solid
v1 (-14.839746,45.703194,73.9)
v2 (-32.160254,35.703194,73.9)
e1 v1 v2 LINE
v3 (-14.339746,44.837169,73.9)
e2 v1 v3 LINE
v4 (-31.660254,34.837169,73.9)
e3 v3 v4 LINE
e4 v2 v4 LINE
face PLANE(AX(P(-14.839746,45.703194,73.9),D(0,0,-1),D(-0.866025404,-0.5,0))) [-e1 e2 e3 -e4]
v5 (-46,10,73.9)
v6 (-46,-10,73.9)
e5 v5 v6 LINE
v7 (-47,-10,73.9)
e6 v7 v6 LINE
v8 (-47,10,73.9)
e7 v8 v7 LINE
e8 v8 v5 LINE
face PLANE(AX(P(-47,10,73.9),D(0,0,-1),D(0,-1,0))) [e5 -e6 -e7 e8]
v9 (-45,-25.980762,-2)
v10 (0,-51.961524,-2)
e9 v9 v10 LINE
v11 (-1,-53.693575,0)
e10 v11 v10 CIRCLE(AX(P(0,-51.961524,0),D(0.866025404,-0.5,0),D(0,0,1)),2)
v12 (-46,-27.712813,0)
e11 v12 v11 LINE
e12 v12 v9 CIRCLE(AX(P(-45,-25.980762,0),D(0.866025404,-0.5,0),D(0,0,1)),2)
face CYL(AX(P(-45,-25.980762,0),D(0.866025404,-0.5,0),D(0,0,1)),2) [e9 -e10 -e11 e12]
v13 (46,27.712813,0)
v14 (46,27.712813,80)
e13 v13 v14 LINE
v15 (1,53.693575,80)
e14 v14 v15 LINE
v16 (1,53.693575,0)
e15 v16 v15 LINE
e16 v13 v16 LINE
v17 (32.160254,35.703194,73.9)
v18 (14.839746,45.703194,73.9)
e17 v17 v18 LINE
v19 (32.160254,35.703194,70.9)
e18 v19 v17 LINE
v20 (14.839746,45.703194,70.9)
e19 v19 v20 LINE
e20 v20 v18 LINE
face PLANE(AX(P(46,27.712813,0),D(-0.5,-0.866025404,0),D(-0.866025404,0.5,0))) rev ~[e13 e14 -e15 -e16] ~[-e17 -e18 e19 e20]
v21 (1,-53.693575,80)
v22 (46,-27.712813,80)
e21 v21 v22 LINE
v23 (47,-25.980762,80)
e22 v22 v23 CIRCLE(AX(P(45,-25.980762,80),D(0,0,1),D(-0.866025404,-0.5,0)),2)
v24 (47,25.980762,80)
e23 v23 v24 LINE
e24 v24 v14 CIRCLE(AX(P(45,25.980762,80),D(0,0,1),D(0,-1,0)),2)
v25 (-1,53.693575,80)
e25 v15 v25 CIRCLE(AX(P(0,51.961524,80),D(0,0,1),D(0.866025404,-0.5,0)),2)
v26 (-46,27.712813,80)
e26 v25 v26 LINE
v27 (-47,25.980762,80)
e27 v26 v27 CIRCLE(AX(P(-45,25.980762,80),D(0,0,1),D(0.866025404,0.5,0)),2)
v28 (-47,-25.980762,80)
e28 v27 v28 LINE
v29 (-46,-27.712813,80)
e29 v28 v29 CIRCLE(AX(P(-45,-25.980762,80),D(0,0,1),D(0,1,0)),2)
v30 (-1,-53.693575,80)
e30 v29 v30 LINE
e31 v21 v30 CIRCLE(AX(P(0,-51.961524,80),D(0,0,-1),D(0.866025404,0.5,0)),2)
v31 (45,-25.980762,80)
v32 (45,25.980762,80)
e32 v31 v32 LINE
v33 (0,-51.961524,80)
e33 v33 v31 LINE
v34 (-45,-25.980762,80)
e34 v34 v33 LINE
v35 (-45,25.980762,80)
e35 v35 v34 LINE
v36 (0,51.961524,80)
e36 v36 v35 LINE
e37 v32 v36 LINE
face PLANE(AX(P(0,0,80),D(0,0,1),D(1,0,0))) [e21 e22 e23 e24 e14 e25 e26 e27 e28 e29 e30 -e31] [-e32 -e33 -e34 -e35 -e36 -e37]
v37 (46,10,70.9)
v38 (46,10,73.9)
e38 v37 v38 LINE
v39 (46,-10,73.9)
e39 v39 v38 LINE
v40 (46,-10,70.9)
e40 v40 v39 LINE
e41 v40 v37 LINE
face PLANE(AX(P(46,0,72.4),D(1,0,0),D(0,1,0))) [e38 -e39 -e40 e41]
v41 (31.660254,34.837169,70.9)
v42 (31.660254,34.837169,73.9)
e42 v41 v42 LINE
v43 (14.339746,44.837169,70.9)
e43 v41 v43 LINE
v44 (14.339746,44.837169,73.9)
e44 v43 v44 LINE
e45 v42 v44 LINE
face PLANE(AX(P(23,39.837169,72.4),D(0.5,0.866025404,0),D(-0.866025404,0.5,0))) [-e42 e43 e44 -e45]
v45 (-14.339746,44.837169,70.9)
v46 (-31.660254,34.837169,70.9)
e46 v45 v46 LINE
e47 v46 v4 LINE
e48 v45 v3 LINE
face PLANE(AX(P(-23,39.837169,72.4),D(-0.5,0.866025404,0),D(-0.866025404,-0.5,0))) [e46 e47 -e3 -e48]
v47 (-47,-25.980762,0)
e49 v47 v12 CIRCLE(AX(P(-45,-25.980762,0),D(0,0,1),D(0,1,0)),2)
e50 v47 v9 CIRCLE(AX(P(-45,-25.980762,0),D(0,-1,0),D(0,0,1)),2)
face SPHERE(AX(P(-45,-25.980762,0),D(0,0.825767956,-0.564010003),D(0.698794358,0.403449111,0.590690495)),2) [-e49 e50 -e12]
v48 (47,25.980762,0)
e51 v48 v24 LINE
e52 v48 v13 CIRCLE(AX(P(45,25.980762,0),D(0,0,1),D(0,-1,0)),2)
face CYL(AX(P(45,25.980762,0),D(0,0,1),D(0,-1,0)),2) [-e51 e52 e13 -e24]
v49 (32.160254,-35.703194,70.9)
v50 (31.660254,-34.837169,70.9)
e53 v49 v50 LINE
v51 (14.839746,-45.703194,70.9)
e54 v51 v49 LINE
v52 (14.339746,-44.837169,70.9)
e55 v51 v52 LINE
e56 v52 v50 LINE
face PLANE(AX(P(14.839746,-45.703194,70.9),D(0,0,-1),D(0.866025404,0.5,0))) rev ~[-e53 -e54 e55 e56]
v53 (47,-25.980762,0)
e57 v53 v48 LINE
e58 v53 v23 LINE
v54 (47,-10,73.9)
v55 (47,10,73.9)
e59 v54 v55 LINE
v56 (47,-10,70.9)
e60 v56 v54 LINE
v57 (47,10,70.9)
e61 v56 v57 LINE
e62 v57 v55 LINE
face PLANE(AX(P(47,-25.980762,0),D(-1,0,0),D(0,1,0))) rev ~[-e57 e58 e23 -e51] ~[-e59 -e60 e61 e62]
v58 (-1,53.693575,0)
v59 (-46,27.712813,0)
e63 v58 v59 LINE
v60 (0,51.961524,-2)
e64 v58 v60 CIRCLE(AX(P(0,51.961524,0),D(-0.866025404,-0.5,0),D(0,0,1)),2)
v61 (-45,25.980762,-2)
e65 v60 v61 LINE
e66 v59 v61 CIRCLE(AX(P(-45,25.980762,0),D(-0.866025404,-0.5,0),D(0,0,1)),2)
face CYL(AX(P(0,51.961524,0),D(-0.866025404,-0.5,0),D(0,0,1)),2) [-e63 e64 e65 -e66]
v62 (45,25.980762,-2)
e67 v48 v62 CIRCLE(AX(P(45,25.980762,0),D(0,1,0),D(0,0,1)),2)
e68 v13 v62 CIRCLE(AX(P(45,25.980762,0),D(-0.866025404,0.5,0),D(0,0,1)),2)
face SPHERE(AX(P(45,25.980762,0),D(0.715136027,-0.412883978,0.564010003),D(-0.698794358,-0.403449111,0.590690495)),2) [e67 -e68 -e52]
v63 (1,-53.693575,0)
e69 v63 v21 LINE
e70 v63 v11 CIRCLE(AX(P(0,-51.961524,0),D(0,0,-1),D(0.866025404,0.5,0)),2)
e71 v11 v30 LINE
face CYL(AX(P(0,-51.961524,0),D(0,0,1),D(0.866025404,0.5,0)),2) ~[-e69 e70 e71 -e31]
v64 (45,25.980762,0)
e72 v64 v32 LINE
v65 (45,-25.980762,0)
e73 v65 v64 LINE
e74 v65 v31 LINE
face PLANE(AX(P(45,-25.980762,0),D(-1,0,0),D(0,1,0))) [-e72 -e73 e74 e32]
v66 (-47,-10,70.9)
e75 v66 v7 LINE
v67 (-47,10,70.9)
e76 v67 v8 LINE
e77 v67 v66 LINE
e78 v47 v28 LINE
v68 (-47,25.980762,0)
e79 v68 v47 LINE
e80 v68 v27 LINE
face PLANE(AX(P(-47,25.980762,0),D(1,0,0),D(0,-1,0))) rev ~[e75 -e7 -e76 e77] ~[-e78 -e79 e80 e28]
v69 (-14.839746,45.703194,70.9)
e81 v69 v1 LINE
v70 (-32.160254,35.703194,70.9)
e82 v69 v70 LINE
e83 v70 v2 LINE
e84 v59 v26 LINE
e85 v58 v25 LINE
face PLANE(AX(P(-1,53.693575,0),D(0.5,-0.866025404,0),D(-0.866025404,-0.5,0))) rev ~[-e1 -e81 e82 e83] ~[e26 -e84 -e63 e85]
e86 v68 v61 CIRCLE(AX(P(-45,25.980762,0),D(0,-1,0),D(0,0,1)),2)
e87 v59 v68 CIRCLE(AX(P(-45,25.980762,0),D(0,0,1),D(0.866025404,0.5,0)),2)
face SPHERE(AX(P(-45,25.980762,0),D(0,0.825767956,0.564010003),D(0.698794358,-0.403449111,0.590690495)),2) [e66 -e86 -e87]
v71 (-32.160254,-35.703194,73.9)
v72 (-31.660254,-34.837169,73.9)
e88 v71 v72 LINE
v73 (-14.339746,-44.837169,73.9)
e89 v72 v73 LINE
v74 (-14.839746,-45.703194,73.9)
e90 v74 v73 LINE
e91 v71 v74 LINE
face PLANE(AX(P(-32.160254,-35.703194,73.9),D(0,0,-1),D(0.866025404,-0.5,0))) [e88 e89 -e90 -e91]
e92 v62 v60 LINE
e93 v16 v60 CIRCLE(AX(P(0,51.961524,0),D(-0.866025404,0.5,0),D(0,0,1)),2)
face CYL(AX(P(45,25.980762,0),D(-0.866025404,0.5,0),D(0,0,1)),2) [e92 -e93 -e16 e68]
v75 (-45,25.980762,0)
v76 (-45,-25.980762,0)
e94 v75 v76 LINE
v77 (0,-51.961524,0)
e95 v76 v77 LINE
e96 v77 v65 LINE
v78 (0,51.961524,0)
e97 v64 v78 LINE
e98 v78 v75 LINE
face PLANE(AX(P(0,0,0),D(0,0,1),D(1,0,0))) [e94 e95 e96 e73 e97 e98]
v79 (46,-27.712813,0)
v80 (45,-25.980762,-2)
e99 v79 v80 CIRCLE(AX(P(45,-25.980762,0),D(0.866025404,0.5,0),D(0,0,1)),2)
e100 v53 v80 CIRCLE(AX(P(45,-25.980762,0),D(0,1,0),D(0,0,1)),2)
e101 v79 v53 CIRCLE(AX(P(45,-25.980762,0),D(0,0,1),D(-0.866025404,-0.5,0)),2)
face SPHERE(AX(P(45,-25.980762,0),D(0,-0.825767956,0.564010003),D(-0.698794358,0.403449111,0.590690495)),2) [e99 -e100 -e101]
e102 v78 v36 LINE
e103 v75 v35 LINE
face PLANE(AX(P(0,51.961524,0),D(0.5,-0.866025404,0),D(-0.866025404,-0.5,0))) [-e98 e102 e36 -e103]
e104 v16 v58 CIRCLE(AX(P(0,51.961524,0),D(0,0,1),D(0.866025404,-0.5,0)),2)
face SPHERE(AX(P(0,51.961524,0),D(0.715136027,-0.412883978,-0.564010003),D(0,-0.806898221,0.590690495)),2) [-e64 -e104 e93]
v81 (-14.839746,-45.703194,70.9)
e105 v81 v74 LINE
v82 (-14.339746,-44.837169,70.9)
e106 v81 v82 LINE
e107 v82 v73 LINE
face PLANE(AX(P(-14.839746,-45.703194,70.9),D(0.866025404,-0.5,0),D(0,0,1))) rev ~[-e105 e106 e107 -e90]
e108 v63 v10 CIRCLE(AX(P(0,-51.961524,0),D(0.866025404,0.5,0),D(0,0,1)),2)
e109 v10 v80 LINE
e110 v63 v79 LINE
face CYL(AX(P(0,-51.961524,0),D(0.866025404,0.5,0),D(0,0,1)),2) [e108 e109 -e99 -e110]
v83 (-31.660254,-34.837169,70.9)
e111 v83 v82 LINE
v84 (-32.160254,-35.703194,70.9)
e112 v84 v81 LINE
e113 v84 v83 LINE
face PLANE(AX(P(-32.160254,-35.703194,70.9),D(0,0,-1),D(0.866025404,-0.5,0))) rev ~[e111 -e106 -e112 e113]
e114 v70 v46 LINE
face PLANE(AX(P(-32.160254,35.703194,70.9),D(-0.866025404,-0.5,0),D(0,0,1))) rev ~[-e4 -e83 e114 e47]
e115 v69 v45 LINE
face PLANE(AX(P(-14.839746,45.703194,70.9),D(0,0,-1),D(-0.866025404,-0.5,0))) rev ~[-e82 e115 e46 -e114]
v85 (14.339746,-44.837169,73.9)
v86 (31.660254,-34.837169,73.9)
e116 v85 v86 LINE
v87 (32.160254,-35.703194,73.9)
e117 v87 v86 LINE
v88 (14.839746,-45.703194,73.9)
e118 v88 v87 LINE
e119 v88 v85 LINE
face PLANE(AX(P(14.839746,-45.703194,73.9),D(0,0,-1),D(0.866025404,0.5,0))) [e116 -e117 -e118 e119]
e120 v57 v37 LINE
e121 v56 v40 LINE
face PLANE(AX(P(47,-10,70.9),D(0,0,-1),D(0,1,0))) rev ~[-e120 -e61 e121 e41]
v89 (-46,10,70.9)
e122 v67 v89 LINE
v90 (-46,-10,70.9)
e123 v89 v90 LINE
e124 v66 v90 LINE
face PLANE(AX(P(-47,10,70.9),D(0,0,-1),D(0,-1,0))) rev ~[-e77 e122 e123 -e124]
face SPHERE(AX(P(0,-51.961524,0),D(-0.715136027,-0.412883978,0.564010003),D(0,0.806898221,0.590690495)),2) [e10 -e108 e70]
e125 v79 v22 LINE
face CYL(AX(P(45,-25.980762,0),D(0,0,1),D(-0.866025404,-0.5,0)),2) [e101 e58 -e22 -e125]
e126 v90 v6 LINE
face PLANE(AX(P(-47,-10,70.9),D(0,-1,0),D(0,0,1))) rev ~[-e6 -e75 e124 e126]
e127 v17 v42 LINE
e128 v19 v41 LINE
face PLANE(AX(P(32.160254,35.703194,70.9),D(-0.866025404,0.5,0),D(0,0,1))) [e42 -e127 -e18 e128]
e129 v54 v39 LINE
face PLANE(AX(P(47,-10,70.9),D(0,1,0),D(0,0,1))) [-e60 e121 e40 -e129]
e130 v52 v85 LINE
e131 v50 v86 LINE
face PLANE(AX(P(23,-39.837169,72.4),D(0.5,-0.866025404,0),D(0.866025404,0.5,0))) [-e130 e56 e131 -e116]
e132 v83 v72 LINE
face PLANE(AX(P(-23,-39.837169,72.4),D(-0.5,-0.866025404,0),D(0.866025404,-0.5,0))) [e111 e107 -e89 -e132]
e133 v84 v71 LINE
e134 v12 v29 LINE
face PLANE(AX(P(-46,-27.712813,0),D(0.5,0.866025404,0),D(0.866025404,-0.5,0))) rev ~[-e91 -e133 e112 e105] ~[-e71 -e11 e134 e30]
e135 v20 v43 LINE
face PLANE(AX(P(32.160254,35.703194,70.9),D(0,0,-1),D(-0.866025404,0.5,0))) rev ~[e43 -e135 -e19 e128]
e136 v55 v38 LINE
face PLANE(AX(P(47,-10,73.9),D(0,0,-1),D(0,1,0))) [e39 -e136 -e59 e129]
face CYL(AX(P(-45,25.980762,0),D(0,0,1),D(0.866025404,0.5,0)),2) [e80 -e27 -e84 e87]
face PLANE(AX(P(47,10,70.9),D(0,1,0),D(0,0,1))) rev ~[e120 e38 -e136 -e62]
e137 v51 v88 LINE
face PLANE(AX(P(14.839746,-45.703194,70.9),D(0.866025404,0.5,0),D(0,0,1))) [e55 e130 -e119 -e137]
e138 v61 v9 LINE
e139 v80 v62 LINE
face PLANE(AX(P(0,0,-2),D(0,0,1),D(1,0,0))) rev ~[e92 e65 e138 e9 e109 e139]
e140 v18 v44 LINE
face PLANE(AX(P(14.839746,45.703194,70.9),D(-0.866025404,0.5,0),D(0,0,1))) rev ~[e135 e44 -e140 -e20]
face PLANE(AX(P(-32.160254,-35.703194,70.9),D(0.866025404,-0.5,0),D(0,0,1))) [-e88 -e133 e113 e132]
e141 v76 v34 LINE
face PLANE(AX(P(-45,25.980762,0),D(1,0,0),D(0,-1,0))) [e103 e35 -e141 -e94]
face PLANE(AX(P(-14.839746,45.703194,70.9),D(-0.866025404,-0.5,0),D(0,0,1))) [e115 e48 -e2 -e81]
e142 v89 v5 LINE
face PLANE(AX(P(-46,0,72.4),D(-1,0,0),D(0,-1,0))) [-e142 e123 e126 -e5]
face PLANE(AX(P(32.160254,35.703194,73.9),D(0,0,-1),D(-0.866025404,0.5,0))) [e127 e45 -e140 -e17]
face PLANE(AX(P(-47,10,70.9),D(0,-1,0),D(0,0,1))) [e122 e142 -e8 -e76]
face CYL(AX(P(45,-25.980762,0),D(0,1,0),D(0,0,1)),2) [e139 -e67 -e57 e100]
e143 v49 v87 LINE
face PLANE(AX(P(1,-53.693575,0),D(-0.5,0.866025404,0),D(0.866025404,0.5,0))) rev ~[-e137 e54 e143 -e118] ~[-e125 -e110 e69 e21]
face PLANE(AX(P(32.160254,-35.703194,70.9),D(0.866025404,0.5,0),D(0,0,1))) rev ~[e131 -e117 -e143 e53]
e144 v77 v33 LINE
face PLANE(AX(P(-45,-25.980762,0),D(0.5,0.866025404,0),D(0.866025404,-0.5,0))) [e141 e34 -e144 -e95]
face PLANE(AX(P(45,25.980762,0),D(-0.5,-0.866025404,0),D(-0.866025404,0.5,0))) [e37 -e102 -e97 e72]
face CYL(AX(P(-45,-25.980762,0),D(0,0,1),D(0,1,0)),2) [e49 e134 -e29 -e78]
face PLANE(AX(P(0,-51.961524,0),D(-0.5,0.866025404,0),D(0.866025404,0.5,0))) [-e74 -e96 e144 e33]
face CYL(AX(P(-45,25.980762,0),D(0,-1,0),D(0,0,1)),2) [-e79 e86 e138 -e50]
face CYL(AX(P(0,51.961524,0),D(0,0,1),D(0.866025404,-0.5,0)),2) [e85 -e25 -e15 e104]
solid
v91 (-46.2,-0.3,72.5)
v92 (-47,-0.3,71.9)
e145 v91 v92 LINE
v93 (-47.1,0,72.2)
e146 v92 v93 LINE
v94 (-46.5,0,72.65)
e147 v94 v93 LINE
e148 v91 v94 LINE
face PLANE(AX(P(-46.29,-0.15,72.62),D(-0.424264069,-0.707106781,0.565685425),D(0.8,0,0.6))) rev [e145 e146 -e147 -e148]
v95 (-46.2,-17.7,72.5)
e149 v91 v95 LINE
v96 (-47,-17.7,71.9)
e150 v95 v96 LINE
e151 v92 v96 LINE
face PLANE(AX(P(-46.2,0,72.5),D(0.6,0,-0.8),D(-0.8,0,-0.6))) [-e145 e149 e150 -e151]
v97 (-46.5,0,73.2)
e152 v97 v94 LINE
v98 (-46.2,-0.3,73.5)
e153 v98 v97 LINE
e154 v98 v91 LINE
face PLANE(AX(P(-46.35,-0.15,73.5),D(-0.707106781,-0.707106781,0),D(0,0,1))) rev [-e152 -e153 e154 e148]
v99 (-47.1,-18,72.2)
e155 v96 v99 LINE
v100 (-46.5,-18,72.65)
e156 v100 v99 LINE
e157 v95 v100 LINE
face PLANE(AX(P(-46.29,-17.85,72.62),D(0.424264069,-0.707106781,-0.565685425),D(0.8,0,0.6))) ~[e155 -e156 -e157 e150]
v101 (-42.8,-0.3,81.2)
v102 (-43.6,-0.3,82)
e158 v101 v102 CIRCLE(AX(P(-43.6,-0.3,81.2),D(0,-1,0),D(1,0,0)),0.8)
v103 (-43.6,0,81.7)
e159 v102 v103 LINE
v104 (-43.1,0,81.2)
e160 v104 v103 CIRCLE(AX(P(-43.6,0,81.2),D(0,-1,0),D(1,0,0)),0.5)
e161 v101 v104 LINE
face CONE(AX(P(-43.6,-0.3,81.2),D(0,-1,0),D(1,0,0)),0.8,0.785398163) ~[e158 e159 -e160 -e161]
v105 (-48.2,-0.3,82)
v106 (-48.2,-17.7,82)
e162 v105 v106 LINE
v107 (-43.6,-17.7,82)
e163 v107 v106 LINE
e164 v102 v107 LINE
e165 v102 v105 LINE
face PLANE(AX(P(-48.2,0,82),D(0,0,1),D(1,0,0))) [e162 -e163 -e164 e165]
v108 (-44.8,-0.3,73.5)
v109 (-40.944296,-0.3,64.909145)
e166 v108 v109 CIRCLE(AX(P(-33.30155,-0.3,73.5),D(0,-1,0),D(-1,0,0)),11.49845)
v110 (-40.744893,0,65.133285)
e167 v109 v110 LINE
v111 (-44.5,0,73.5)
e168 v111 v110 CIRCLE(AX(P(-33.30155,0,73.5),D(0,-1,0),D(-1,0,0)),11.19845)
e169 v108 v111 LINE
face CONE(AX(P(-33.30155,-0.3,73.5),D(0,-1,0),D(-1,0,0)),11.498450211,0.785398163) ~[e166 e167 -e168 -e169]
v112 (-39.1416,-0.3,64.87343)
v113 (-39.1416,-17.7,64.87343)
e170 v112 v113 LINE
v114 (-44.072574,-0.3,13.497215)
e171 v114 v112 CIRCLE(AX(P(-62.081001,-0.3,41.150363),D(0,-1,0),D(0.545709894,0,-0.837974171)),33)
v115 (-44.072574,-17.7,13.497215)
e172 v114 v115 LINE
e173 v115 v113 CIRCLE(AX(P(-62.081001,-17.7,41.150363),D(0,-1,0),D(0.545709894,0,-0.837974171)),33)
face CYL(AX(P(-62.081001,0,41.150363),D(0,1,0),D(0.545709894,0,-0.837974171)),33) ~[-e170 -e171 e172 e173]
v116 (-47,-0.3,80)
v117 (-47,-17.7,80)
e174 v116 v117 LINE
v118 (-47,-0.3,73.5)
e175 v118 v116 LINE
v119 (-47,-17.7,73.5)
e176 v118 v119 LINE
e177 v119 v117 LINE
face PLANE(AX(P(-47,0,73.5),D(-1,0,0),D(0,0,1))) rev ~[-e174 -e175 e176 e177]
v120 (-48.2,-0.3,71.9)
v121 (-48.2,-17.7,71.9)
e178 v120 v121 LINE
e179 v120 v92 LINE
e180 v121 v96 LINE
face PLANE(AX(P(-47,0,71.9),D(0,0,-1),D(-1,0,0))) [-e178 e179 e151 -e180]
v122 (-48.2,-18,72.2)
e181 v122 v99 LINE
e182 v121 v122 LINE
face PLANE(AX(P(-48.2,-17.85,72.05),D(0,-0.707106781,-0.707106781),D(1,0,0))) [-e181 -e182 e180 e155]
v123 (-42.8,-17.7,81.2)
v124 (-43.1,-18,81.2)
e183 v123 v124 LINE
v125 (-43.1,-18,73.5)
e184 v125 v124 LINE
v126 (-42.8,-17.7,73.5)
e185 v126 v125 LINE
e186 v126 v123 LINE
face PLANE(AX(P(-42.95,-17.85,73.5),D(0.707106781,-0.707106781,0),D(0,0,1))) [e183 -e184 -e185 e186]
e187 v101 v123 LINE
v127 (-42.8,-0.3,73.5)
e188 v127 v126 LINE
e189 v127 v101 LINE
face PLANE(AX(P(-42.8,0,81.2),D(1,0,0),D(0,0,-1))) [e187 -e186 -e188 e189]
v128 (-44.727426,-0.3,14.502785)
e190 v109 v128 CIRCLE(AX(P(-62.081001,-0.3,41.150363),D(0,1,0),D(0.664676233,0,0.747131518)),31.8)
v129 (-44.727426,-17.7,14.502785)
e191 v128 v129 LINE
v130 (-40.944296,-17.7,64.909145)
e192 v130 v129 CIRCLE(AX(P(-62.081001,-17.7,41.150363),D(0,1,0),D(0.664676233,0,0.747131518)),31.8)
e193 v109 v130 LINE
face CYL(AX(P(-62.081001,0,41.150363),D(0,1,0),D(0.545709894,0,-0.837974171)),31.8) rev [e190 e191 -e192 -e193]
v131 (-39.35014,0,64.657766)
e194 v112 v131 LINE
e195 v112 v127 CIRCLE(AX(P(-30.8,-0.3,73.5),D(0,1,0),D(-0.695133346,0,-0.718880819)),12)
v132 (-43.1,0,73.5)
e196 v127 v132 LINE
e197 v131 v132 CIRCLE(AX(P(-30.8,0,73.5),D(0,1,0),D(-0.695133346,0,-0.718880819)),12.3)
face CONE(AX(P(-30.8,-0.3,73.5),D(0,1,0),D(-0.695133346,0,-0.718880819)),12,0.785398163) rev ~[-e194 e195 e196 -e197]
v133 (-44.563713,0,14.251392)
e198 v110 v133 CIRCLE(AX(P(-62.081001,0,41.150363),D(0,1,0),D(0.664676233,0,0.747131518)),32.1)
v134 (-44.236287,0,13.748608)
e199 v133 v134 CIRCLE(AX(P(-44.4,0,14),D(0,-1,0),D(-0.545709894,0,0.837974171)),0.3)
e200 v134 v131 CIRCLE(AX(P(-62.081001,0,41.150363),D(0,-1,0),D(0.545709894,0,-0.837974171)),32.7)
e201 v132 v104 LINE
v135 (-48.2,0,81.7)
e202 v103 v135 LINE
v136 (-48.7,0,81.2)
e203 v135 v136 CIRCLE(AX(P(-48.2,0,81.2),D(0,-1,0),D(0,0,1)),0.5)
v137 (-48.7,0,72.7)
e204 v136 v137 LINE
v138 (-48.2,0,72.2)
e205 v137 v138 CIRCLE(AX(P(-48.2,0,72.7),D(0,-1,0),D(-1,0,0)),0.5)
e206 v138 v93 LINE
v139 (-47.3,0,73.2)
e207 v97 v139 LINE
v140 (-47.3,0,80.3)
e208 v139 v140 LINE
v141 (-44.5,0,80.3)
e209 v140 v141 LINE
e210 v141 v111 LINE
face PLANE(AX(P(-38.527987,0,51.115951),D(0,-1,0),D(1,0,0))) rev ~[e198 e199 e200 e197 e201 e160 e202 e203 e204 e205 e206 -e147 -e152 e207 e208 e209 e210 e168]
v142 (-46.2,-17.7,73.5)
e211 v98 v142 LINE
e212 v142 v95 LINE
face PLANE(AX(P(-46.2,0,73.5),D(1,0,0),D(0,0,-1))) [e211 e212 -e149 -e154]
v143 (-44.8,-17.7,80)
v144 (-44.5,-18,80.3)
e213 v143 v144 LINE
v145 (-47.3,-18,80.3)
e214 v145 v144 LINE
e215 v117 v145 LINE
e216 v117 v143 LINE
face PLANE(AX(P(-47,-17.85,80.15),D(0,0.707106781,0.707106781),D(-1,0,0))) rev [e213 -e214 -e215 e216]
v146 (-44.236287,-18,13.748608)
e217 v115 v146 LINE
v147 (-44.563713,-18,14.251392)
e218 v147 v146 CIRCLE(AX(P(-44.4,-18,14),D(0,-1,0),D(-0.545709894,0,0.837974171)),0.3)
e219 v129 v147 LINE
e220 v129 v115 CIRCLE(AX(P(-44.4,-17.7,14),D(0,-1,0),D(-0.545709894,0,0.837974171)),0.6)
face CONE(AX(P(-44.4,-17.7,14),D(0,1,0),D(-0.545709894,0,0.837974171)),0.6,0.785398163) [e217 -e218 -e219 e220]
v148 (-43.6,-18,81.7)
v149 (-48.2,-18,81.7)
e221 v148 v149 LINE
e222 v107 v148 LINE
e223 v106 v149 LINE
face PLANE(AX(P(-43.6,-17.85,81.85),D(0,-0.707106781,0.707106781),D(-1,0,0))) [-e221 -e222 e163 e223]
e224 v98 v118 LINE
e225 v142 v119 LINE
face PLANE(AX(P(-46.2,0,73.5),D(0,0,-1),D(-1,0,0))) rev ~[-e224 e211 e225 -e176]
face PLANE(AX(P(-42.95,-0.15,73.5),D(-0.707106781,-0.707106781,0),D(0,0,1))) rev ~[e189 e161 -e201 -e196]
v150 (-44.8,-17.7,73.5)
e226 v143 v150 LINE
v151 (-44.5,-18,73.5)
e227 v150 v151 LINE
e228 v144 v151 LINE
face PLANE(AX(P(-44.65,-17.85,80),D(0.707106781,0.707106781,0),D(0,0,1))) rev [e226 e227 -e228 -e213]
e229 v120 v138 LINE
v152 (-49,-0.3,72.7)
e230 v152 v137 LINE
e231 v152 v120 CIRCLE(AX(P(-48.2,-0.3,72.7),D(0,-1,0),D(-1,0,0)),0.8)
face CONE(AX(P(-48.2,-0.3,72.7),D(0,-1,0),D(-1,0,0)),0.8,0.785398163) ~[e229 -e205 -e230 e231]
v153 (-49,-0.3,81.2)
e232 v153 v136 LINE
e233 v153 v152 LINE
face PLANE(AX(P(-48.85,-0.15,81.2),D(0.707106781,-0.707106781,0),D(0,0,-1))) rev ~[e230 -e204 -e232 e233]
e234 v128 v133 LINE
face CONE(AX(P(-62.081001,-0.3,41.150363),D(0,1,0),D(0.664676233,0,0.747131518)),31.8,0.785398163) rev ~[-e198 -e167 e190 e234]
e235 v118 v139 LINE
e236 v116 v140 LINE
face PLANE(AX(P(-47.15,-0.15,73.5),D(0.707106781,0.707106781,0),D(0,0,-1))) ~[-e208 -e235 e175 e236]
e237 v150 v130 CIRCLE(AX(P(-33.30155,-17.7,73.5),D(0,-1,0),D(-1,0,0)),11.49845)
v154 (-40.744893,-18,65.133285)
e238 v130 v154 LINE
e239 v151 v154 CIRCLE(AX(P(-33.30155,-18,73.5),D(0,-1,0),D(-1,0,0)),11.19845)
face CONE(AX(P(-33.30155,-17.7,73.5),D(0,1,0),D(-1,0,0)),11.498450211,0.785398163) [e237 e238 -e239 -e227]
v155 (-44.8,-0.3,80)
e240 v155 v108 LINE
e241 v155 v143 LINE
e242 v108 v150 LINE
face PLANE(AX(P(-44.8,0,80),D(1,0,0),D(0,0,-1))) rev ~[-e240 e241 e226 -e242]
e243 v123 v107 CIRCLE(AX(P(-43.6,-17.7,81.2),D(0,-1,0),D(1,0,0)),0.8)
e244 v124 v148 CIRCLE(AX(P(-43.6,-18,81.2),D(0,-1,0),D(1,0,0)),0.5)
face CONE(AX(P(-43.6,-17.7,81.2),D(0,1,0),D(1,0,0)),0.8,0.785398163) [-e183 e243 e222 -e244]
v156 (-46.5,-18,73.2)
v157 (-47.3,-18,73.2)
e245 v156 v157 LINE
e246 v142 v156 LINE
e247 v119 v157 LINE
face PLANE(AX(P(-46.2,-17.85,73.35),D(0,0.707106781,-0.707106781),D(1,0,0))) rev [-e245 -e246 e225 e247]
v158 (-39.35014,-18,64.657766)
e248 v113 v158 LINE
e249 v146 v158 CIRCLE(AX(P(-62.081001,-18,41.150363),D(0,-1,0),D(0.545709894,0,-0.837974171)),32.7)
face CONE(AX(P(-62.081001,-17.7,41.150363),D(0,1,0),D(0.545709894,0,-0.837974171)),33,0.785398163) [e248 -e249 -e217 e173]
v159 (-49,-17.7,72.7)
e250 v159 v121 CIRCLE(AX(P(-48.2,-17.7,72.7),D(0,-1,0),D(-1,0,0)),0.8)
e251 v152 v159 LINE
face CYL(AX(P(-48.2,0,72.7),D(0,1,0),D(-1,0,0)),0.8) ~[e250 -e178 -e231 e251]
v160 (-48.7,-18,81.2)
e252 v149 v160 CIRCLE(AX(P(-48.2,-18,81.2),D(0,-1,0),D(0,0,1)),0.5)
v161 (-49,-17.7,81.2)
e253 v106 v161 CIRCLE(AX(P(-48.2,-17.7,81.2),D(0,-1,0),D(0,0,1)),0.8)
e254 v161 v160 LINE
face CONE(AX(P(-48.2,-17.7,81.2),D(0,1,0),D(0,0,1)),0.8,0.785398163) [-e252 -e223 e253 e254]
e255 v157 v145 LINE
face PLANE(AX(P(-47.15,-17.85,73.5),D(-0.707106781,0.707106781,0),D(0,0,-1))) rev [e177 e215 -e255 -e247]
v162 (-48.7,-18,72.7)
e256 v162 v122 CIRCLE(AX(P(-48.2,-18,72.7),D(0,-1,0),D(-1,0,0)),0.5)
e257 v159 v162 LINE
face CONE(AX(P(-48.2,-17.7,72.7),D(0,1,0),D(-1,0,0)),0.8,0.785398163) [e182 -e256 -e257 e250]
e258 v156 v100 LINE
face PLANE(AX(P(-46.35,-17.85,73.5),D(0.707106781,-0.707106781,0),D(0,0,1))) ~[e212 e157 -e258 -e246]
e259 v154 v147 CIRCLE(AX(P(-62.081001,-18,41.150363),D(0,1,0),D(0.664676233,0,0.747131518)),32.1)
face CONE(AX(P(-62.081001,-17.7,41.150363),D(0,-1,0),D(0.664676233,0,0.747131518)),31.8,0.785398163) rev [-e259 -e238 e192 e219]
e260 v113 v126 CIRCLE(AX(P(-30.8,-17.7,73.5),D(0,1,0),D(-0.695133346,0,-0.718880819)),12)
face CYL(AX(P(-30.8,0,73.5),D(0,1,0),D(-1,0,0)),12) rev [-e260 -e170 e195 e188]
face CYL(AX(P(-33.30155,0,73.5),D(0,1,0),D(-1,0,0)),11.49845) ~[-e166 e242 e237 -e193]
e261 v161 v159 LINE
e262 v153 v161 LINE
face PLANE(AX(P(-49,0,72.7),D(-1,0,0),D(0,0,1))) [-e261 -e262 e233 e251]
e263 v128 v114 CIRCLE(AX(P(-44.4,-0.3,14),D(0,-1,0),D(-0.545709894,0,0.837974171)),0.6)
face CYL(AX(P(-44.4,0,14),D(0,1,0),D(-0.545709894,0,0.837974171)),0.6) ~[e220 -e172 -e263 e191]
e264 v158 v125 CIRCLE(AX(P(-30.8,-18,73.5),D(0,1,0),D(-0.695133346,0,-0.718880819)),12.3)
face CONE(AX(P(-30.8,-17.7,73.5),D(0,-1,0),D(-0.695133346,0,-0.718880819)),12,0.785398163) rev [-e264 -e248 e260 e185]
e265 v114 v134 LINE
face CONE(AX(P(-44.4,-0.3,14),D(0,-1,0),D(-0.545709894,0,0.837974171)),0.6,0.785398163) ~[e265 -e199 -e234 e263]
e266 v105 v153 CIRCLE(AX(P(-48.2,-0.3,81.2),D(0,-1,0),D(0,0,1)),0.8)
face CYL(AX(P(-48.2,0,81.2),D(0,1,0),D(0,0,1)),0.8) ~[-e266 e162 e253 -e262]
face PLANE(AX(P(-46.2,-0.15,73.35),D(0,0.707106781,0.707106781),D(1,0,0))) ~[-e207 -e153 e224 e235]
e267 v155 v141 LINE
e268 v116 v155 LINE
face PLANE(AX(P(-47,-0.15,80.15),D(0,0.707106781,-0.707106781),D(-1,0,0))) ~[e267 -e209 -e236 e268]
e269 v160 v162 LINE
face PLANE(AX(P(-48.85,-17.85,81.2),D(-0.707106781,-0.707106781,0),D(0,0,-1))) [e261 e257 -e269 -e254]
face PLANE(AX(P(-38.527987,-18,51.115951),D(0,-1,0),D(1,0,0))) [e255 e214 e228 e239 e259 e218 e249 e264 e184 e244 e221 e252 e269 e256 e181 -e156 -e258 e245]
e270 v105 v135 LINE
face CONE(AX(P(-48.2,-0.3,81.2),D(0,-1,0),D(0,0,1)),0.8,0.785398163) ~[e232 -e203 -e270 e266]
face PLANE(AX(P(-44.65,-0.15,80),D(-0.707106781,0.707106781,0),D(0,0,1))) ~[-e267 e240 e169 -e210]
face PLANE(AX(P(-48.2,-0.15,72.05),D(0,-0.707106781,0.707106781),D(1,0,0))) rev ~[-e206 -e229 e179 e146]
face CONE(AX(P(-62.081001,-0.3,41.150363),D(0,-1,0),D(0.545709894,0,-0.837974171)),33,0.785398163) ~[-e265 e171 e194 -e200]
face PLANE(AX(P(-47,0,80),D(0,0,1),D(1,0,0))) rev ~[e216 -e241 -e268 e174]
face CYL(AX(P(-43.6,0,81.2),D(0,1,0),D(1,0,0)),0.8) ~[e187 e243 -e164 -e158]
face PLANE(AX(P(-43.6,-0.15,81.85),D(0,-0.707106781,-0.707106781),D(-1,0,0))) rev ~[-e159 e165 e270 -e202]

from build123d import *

# Parameters (mm, degrees)
PAD001_DEPTH       = 18
CHAMFER_SIZE       = 0.3
PAD_DEPTH          = 80
THICKNESS_T        = 2
SKETCH002_W        = 20
SKETCH002_H        = 3
POCKET_DEPTH       = 1
POLARPATTERN_COUNT = 6


with BuildPart() as wings:
    # Sketch001 → Pad001 (new body)
    with BuildSketch(Plane.XZ):
        with BuildLine():
            Line((-47, 73.5), (-47, 80))
            Line((-47, 80), (-44.8, 80))
            Line((-44.8, 80), (-44.8, 73.5))
            ThreePointArc((-44.8, 73.5), (-43.7918810074, 68.7917829084), (-40.9442963572, 64.9091454356))
            ThreePointArc((-44.7274259362, 14.5027845028), (-30.3701869984, 38.7703834331), (-40.9442963572, 64.9091454356))
            ThreePointArc((-44.7274259362, 14.5027845028), (-44.9027845028, 13.6725740638), (-44.0725740638, 13.4972154972))
            ThreePointArc((-44.0725740638, 13.4972154972), (-29.2319520072, 37.99758511), (-39.1416001485, 64.873430174))
            ThreePointArc((-42.8, 73.5), (-41.8476061158, 68.8148746965), (-39.1416001485, 64.873430174))
            Line((-42.8, 81.2), (-42.8, 73.5))
            ThreePointArc((-42.8, 81.2), (-43.0343145751, 81.7656854249), (-43.6, 82))
            Line((-48.2, 82), (-43.6, 82))
            ThreePointArc((-48.2, 82), (-48.7656854249, 81.7656854249), (-49, 81.2))
            Line((-49, 72.7), (-49, 81.2))
            ThreePointArc((-49, 72.7), (-48.7656854249, 72.1343145751), (-48.2, 71.9))
            Line((-47, 71.9), (-48.2, 71.9))
            Line((-46.2, 72.5), (-47, 71.9))
            Line((-46.2, 73.5), (-46.2, 72.5))
            Line((-46.2, 73.5), (-47, 73.5))
        make_face()
    extrude(amount=PAD001_DEPTH)

    # Chamfer
    chamfer_edges = [wings.edges().sort_by_distance(p)[0] for p in [
        (-46.6, -18, 73.5),
        (-47, -18, 76.75),
        (-45.9, -18, 80),
        (-44.8, -18, 76.75),
        (-43.791881, -18, 68.791783),
        (-30.370187, -18, 38.770383),
        (-44.902785, -18, 13.672574),
        (-29.231952, -18, 37.997585),
        (-41.847606, -18, 68.814875),
        (-42.8, -18, 77.35),
        (-43.034315, -18, 81.765685),
        (-45.9, -18, 82),
        (-48.765685, -18, 81.765685),
        (-49, -18, 76.95),
        (-48.765685, -18, 72.134315),
        (-47.6, -18, 71.9),
        (-46.6, -18, 72.2),
        (-46.2, -18, 73),
        (-46.6, 0, 73.5),
        (-47, 0, 76.75),
        (-45.9, 0, 80),
        (-44.8, 0, 76.75),
        (-43.791881, 0, 68.791783),
        (-30.370187, 0, 38.770383),
        (-44.902785, 0, 13.672574),
        (-29.231952, 0, 37.997585),
        (-41.847606, 0, 68.814875),
        (-42.8, 0, 77.35),
        (-43.034315, 0, 81.765685),
        (-45.9, 0, 82),
        (-48.765685, 0, 81.765685),
        (-49, 0, 76.95),
        (-48.765685, 0, 72.134315),
        (-47.6, 0, 71.9),
        (-46.6, 0, 72.2),
        (-46.2, 0, 73),
    ]]
    chamfer(chamfer_edges, length=CHAMFER_SIZE)


with BuildPart() as body:
    # Sketch → Pad (new body)
    with BuildSketch(Plane.XY):
        Polygon((0, -51.961524227), (45, -25.9807621135), (45, 25.9807621135), (0, 51.9615242271), (-45, 25.9807621136), (-45, -25.9807621135), align=None)
    extrude(amount=PAD_DEPTH)

    # Thickness
    thickness_openings = [body.faces().sort_by_distance(p)[0] for p in [
        (0, 0, 80),
    ]]
    offset(amount=THICKNESS_T, openings=thickness_openings)

    # Sketch002 (on Face20 of Thickness) → Pocket (cut)
    with BuildSketch(Plane(origin=(-23.5, -40.7031939778, 0), x_dir=(0.8660254038, -0.5, 0), z_dir=(-0.5, -0.8660254038, 0))):
        with Locations((0, 72.4)):
            Rectangle(SKETCH002_W, SKETCH002_H)
    pocket = extrude(amount=-POCKET_DEPTH, mode=Mode.SUBTRACT)

    # PolarPattern: Pocket ×6 about axis
    polarpattern_axis = Axis((0, 0, 0), (0, 0, 1))
    for i in range(1, POLARPATTERN_COUNT):
        add(pocket.rotate(polarpattern_axis, i * 360 / POLARPATTERN_COUNT), mode=Mode.SUBTRACT)


solid = Compound([wings.part, body.part])
